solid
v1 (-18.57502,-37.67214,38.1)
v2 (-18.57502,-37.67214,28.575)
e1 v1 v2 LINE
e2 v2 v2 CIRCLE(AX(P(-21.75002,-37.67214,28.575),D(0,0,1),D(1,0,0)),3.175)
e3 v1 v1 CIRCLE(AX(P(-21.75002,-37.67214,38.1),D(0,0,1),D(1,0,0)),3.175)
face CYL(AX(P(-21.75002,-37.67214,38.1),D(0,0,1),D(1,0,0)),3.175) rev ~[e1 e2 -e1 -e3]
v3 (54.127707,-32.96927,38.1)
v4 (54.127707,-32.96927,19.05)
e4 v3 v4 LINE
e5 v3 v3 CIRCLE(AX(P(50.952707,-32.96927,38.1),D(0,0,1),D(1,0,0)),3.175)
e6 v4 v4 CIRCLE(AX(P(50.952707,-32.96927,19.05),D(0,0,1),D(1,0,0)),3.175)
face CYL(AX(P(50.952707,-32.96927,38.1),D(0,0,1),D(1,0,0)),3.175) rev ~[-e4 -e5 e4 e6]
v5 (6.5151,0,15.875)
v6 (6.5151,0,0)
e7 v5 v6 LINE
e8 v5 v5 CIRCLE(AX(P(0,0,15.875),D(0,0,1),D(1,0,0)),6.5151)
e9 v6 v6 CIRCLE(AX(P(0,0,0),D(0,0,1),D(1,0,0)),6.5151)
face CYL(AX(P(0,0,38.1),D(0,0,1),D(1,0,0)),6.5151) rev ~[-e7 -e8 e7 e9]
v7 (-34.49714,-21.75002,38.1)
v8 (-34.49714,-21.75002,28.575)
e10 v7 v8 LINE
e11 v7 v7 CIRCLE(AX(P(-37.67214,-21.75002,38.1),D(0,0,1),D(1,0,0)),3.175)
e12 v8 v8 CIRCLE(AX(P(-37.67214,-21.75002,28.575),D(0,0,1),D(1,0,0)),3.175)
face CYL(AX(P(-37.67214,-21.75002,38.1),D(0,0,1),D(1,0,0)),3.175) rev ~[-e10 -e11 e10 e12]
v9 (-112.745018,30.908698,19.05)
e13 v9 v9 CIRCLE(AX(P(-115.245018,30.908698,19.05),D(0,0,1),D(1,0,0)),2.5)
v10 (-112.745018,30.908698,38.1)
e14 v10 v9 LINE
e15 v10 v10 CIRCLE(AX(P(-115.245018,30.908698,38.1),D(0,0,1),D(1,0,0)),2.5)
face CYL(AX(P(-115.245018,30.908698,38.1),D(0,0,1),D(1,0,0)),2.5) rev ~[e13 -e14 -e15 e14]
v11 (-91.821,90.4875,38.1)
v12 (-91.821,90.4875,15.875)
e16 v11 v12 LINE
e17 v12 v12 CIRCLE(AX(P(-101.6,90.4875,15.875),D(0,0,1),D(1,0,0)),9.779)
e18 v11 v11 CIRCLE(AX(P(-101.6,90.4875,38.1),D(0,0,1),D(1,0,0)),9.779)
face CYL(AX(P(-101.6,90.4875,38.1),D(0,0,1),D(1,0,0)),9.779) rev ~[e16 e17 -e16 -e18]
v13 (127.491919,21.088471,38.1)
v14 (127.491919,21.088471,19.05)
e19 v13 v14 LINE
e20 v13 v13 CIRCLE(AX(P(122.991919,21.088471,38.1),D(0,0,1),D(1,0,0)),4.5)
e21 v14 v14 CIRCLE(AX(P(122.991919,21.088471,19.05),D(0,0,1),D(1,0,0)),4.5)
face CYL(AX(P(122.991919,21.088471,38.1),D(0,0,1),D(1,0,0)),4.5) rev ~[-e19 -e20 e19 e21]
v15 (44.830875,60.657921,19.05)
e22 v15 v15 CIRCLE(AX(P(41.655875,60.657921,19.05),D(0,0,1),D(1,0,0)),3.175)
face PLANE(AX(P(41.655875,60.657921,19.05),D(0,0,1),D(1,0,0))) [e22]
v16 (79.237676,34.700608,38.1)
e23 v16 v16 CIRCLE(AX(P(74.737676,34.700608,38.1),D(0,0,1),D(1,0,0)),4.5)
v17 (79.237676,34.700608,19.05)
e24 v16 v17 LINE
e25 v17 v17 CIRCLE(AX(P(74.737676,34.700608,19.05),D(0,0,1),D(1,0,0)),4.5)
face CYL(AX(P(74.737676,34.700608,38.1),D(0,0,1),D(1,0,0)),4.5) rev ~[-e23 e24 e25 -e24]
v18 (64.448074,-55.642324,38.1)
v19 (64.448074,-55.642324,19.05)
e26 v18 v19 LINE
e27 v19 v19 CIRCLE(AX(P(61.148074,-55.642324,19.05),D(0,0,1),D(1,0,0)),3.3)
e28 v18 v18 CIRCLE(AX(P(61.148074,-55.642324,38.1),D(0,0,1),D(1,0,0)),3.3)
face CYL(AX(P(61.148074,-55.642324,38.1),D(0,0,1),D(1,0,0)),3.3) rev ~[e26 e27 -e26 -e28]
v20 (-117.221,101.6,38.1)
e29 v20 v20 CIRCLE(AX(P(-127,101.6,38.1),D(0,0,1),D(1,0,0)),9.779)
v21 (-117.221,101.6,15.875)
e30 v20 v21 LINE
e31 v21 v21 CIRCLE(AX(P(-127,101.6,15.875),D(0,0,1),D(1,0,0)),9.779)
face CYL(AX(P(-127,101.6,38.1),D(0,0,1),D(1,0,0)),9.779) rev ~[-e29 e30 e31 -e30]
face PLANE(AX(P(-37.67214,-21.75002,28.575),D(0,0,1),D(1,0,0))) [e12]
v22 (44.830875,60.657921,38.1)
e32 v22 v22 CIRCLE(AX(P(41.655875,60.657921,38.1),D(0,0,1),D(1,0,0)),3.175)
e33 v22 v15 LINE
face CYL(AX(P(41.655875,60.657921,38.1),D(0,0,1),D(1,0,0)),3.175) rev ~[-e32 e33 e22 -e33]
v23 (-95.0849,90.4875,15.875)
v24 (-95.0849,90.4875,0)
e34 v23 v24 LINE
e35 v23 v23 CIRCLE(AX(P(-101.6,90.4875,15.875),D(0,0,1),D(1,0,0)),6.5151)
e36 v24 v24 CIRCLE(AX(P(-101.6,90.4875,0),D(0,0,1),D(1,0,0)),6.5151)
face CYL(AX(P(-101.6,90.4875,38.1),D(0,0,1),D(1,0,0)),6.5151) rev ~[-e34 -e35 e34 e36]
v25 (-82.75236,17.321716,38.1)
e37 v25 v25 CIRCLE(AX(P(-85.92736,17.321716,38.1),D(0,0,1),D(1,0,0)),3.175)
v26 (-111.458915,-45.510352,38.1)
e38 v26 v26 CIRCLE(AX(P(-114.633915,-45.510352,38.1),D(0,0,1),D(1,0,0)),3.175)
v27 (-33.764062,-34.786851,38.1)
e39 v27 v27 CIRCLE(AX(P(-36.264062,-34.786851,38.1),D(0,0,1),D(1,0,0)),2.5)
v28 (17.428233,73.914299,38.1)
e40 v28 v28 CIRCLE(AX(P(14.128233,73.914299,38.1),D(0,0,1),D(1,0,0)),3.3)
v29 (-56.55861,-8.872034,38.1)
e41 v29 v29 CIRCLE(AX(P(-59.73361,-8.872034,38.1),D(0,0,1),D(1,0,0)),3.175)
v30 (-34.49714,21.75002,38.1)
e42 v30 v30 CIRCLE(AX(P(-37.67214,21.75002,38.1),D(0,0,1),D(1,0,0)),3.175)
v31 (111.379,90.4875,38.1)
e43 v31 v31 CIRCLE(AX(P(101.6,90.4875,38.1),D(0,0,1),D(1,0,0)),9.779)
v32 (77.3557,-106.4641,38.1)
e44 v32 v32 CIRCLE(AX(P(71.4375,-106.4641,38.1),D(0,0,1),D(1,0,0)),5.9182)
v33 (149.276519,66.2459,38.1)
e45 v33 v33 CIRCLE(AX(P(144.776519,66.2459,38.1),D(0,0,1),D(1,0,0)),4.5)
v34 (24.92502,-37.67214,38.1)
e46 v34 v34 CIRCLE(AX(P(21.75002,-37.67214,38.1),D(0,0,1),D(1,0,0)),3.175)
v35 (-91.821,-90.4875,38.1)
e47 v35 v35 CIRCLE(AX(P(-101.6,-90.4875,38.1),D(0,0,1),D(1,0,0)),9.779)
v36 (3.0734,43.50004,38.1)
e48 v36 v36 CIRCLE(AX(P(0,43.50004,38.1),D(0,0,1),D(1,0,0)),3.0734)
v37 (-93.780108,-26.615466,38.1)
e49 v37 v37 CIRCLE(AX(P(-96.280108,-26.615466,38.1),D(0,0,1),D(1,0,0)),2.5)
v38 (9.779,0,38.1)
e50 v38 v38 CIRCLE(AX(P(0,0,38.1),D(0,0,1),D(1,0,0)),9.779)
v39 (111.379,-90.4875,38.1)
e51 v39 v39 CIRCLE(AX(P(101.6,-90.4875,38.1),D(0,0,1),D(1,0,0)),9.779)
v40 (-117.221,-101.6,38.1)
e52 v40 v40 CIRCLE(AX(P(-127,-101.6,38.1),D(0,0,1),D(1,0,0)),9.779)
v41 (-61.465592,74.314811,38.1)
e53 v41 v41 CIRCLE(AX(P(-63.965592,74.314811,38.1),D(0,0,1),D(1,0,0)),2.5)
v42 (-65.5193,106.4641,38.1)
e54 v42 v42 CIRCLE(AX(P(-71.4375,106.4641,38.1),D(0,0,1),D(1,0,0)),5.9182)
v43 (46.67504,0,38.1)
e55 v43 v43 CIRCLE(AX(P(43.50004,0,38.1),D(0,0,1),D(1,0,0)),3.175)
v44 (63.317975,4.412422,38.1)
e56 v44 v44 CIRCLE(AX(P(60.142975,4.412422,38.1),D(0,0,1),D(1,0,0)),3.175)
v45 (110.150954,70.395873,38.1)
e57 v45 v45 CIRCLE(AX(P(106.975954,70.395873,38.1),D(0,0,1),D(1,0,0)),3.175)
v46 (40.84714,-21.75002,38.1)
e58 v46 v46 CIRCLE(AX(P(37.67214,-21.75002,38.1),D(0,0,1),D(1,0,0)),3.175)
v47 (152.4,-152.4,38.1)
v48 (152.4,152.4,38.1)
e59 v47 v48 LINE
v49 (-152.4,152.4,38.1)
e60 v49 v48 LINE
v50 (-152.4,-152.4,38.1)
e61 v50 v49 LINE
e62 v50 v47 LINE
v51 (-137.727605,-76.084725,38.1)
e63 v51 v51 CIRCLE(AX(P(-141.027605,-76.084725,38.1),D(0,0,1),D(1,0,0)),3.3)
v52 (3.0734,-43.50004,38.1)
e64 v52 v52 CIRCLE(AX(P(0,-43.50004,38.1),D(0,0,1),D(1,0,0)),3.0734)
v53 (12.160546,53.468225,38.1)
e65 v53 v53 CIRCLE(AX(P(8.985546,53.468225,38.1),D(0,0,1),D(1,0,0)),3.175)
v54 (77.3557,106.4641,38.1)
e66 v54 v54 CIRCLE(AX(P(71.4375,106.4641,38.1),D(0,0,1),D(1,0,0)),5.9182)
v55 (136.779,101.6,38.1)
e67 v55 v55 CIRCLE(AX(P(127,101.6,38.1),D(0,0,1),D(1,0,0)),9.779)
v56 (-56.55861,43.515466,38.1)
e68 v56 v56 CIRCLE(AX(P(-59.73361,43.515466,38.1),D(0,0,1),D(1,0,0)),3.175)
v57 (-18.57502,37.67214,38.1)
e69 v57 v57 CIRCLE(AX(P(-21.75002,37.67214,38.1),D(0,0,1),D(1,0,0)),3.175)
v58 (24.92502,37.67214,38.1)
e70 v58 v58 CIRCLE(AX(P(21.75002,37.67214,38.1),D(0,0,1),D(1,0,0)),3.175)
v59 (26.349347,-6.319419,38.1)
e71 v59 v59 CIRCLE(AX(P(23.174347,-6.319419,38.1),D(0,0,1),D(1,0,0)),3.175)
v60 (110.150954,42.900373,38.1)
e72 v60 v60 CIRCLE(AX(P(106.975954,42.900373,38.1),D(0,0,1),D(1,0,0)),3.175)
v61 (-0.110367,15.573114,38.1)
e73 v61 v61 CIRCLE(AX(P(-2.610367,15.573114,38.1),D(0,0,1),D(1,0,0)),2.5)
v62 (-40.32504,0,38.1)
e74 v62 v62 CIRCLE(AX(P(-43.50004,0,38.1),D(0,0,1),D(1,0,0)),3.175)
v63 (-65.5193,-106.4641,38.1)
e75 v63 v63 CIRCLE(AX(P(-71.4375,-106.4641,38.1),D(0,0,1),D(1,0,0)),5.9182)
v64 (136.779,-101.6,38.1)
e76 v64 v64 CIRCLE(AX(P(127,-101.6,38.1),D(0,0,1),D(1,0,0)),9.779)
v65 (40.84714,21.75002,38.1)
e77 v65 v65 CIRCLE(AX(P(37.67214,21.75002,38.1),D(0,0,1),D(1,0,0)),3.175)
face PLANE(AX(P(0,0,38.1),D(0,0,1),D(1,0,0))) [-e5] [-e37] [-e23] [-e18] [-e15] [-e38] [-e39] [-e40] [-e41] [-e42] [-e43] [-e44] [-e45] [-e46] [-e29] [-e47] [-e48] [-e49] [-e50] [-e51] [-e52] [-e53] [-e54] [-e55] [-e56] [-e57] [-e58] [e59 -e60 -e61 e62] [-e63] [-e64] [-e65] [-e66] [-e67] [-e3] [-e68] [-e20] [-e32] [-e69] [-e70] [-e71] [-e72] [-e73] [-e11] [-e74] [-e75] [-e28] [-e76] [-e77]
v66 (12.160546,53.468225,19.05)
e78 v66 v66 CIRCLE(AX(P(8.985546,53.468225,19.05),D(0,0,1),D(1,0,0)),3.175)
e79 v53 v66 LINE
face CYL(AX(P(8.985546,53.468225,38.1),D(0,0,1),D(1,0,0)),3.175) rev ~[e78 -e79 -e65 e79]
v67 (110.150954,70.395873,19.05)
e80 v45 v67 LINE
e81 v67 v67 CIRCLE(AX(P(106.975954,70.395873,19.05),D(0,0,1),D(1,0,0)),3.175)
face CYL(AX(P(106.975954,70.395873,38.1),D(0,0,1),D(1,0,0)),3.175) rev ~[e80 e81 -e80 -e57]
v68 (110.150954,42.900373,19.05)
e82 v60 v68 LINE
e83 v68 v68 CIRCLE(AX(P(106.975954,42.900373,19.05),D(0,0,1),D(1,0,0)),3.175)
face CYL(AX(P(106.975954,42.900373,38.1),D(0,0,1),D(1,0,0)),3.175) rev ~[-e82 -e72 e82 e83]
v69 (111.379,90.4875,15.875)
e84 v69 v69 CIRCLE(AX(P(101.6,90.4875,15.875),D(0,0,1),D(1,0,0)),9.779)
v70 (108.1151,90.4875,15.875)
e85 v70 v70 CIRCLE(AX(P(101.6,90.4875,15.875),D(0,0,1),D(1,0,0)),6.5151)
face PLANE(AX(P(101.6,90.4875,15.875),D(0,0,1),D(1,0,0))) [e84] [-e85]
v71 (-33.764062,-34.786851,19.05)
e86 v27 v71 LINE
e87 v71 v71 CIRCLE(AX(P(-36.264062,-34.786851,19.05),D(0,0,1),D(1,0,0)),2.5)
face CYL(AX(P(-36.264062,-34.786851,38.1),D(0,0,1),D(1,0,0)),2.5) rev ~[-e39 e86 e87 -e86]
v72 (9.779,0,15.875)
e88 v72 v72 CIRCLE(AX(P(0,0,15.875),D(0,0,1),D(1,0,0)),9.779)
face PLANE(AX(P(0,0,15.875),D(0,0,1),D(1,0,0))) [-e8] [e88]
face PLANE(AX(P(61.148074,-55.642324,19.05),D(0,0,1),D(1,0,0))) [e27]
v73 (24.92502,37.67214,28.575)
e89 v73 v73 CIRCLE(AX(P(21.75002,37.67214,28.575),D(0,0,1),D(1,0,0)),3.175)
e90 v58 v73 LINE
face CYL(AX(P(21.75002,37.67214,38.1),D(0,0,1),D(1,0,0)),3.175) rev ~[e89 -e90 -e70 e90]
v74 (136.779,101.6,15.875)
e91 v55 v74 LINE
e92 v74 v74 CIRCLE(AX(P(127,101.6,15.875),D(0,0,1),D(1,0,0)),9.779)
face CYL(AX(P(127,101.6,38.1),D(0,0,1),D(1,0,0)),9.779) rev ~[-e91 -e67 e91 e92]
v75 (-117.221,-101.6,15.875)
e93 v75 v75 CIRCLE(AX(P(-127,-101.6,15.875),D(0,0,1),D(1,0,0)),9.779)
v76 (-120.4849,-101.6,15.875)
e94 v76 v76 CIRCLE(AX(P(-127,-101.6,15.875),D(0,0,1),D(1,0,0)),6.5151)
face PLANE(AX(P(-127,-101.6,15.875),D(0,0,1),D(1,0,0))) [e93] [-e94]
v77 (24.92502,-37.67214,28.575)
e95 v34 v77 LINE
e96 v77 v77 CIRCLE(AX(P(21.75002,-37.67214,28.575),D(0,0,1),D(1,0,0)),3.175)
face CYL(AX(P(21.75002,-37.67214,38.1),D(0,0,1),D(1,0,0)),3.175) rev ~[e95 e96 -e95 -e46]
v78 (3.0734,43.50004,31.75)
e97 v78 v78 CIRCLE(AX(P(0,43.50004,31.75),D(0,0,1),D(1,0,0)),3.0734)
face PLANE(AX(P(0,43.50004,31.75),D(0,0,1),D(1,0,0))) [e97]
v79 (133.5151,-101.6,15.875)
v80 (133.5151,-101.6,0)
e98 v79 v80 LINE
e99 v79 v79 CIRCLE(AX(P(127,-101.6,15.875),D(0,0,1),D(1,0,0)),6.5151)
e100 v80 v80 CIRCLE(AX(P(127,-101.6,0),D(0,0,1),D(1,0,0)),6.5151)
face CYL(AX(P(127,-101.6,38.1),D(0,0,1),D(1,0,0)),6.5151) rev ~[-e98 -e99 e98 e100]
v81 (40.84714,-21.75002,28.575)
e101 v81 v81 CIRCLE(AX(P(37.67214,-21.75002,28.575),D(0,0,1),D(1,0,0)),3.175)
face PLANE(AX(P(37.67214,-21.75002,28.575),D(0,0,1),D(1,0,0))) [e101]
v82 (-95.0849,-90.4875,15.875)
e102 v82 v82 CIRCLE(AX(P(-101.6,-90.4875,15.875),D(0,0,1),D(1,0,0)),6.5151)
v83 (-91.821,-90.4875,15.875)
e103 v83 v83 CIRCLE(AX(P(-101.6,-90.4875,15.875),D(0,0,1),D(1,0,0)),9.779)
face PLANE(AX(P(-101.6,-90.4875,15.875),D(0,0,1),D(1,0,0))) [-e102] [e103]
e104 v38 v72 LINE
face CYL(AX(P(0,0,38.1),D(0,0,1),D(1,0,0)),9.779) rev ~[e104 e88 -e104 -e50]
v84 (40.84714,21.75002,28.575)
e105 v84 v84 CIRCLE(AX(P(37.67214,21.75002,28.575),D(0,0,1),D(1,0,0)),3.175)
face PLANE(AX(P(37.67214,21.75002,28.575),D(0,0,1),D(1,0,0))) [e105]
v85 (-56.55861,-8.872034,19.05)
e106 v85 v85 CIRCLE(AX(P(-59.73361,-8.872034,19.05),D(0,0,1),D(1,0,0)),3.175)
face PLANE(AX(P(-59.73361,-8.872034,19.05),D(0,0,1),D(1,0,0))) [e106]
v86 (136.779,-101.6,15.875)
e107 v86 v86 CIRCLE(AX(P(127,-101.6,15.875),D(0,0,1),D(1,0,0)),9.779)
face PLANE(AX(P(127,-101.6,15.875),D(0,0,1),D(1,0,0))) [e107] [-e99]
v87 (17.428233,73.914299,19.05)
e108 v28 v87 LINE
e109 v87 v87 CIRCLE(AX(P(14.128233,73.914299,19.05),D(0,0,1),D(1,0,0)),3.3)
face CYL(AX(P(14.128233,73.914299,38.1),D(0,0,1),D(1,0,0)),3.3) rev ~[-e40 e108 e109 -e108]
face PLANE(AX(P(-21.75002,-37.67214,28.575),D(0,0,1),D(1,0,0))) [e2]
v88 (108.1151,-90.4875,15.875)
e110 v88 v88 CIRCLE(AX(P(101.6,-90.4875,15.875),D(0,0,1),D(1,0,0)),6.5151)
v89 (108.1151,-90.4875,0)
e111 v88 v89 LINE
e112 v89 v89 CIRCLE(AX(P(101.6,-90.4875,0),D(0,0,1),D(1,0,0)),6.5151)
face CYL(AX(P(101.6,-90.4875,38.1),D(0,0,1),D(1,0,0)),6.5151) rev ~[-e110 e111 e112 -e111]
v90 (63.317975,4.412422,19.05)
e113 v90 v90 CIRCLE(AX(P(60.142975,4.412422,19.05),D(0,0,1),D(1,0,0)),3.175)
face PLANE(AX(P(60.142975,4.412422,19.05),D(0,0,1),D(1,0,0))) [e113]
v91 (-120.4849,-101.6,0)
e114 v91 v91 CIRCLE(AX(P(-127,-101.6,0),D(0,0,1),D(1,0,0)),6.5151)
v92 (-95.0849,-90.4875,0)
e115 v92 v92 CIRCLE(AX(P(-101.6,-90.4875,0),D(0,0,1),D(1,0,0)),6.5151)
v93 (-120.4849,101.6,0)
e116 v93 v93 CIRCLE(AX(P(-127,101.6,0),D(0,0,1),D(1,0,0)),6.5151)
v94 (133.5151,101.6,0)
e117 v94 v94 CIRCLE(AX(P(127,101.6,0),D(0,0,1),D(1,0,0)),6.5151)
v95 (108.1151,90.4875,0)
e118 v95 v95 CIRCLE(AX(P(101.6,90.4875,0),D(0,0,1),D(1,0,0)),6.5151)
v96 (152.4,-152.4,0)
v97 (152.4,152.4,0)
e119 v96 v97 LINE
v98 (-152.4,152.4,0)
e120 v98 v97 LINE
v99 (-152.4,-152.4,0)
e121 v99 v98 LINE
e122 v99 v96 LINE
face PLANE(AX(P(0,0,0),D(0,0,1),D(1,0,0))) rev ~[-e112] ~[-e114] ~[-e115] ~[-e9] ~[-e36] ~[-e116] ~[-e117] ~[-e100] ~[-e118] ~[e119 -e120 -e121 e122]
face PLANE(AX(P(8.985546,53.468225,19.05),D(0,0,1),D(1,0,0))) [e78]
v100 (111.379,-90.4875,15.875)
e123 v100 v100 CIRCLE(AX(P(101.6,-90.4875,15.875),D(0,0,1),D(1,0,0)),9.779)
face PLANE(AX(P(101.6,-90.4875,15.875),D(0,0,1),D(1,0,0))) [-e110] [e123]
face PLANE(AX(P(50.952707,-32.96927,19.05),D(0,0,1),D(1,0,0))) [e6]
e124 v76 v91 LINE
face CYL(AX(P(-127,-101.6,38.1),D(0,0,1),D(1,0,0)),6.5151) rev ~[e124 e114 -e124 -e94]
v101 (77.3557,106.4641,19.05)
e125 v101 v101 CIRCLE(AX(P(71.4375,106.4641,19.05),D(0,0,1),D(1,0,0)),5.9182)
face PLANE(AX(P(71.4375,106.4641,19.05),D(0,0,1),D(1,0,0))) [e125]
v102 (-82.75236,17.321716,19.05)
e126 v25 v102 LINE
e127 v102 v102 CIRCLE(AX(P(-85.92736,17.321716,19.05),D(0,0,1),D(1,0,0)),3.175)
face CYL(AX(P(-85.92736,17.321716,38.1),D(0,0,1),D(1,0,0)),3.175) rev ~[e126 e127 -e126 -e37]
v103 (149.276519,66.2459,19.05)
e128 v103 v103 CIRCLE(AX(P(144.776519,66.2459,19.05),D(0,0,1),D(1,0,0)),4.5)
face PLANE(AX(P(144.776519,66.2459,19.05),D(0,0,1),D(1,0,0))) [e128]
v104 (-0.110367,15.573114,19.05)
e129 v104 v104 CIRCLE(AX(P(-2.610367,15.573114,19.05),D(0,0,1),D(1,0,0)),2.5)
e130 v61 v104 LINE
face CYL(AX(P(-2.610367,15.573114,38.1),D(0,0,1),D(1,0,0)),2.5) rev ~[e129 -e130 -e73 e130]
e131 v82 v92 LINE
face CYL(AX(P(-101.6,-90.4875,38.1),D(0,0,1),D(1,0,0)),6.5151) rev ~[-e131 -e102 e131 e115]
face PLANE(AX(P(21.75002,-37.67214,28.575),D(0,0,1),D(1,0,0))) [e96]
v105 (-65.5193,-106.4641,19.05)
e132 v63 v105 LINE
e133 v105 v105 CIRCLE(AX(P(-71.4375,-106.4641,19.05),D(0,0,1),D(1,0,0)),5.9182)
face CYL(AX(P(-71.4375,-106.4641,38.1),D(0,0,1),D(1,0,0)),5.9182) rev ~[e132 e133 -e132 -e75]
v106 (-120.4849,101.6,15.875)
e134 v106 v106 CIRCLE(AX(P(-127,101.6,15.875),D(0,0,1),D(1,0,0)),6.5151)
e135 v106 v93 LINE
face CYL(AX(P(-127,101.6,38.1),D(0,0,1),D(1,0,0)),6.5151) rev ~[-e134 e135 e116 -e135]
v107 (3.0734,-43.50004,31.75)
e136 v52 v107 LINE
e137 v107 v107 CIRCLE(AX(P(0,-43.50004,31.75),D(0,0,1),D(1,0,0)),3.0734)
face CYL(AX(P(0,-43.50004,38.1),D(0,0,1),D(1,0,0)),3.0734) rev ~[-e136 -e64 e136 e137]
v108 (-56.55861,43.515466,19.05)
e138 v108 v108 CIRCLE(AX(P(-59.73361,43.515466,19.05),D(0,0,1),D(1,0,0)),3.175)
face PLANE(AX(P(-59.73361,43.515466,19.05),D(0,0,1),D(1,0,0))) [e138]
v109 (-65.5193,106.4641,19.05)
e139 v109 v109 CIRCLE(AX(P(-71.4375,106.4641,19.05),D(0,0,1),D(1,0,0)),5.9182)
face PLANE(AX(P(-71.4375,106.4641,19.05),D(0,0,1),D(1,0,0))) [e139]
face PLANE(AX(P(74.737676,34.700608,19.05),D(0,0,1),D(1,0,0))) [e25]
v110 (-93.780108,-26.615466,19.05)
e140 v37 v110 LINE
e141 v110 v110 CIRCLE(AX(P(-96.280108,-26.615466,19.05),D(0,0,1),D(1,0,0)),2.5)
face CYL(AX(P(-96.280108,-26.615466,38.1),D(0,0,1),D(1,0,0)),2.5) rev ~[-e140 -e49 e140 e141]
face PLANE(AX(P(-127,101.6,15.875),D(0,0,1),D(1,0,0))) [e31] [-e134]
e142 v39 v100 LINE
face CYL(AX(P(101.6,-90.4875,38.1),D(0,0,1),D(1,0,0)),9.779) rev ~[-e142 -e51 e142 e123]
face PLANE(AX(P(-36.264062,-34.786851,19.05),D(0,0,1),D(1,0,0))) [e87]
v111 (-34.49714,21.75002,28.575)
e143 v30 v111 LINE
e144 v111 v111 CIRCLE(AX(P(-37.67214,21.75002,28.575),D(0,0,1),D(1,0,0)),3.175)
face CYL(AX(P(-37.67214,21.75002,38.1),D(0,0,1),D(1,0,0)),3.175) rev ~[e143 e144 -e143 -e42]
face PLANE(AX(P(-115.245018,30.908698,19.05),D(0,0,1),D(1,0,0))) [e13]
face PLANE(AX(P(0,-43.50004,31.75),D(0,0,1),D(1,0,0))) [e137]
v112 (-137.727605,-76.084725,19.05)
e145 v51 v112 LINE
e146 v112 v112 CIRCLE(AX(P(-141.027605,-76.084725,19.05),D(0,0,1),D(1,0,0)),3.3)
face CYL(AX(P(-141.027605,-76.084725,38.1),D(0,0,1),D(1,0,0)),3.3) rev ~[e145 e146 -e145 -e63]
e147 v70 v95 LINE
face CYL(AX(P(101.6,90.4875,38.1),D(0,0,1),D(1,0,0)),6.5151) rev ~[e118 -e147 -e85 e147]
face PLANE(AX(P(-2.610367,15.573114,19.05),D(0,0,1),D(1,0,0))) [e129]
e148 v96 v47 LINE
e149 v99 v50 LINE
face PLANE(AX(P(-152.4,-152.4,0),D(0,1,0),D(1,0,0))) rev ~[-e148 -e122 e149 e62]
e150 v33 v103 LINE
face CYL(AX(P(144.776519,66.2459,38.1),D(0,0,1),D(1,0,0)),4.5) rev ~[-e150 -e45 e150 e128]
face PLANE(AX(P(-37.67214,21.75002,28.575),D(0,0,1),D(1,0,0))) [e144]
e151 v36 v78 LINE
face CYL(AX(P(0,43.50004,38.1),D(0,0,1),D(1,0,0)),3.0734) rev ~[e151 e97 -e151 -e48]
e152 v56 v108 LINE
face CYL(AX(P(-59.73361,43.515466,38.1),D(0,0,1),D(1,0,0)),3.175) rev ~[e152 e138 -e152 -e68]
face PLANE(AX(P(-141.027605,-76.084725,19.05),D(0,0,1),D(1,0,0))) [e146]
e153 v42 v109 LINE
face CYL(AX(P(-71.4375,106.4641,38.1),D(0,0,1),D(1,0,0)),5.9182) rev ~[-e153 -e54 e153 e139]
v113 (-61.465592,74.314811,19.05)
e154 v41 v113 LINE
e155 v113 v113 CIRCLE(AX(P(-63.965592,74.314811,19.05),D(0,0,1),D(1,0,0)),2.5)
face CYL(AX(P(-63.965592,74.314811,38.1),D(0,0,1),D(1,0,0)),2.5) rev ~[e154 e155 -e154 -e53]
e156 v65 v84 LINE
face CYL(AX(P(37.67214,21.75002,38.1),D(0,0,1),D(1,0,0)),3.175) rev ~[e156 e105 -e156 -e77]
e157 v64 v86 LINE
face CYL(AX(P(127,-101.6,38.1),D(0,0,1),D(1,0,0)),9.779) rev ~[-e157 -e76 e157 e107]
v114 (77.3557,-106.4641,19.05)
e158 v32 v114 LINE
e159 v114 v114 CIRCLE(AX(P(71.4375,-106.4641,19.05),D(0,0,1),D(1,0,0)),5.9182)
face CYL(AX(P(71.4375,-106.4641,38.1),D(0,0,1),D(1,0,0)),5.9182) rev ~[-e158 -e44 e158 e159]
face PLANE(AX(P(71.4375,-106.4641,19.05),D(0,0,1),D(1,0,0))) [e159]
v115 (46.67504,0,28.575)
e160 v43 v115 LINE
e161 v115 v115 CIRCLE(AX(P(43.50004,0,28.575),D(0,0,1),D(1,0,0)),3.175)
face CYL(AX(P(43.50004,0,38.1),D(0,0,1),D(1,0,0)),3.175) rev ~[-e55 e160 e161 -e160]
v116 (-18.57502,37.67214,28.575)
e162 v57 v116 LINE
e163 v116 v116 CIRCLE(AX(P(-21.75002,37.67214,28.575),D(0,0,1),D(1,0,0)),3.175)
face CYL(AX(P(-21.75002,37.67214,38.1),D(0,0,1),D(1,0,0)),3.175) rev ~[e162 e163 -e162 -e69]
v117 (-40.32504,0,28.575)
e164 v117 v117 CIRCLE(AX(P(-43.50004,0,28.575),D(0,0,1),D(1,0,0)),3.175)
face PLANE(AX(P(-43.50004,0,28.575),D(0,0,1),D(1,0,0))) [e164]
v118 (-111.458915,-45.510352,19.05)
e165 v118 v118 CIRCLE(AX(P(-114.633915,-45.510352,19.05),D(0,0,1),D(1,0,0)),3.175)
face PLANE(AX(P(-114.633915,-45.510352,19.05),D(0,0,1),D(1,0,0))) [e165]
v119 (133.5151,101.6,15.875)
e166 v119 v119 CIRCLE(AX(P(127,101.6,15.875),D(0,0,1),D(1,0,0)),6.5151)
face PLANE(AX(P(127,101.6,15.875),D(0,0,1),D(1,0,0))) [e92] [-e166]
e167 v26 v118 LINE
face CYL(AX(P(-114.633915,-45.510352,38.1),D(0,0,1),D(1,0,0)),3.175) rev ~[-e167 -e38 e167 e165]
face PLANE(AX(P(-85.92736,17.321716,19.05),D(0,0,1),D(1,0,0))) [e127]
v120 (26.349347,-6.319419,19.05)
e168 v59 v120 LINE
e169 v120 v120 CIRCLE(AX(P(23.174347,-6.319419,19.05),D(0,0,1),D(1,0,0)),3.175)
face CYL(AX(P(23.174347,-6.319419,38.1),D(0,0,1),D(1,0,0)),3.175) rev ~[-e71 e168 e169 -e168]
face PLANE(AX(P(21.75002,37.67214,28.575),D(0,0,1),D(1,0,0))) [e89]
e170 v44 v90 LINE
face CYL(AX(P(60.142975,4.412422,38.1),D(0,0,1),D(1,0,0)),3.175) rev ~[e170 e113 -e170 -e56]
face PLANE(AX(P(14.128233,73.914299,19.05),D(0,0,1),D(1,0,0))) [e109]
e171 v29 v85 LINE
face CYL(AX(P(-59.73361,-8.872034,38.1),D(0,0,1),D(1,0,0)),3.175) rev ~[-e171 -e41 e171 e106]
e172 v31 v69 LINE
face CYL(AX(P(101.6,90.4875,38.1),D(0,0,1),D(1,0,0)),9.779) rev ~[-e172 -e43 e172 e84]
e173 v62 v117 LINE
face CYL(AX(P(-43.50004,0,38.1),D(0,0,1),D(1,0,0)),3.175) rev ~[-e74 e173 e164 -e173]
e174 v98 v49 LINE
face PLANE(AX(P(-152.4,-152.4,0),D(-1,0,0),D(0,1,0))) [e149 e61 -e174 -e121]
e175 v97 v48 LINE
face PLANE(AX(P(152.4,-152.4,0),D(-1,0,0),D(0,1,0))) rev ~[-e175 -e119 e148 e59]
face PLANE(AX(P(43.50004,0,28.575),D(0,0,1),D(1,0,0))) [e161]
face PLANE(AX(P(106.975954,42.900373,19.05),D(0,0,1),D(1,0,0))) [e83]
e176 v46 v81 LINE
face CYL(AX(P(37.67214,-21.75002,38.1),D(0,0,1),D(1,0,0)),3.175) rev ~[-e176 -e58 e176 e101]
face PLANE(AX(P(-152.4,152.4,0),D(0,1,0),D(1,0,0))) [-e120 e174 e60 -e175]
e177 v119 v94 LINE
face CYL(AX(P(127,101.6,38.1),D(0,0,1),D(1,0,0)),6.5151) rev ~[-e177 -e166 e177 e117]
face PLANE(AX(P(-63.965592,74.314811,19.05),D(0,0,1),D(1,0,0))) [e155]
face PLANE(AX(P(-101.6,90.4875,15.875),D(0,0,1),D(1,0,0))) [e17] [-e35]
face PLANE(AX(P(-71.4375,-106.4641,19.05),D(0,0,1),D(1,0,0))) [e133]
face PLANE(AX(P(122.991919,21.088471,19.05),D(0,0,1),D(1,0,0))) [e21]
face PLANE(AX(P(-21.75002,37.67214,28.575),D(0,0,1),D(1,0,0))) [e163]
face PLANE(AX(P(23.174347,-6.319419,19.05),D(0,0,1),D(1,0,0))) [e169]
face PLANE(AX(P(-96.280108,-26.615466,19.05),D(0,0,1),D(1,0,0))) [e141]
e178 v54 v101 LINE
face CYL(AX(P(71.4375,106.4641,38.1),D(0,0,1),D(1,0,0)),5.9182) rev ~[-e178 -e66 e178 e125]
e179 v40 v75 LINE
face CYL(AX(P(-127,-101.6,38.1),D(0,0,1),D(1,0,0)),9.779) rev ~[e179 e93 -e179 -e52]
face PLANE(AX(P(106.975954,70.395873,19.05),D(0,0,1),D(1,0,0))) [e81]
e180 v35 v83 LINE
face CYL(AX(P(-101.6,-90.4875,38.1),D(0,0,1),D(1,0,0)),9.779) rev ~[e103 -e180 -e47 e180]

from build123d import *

# Parameters (mm, degrees)
SKETCH1_W                               = 304.8
SKETCH1_H                               = 304.8
BOSS_EXTRUDE1_DEPTH                     = 38.1
SKETCH2_R                               = 6.5151
HAAS_T_SLOT_HOLES_DEPTH                 = 219.867836833
SKETCH3_R                               = 9.779
HAAS_COUNTER_BORES_DEPTH                = 22.225
SKETCH4_R                               = 6.5151
TORMACH_T_SLOT_HOLES_DEPTH              = 219.867836833
SKETCH5_R                               = 9.779
TORMACH_COUNTER_BORES_DEPTH             = 22.225
SKETCH6_R                               = 3.0734
SPROCKET_LOCATING_HOLES_DEPTH           = 6.35
SKETCH7_R                               = 3.175
SPROCKET_MOUNTING_CLEARANCE_HOLES_DEPTH = 9.525
SKETCH8_R                               = 5.9182
F_1_2_13_TAPPED_HOLES_DEPTH             = 19.05
SKETCH9_R                               = 3.175
SKETCH9_R_2                             = 3.3
SKETCH9_R_3                             = 2.5
SKETCH9_R_4                             = 4.5
CUT_EXTRUDE1_DEPTH                      = 19.05


with BuildPart() as part:
    # Sketch1 → Boss-Extrude1 (new body)
    with BuildSketch(Plane.XY):
        Rectangle(SKETCH1_W, SKETCH1_H)
    extrude(amount=BOSS_EXTRUDE1_DEPTH)

    # Sketch2 → HAAS T-Slot Holes (cut, through all)
    with BuildSketch(Plane.XY.offset(38.1)):
        with Locations((-127, 101.6)):
            Circle(SKETCH2_R)
        with Locations((127, 101.6)):
            Circle(SKETCH2_R)
        with Locations((127, -101.6)):
            Circle(SKETCH2_R)
        with Locations((-127, -101.6)):
            Circle(SKETCH2_R)
        Circle(SKETCH2_R)
    extrude(amount=-HAAS_T_SLOT_HOLES_DEPTH, mode=Mode.SUBTRACT)

    # Sketch3 → HAAS Counter Bores (cut)
    with BuildSketch(Plane.XY.offset(38.1)):
        with Locations((-127, 101.6)):
            Circle(SKETCH3_R)
        with Locations((127, 101.6)):
            Circle(SKETCH3_R)
        Circle(SKETCH3_R)
        with Locations((127, -101.6)):
            Circle(SKETCH3_R)
        with Locations((-127, -101.6)):
            Circle(SKETCH3_R)
    extrude(amount=-HAAS_COUNTER_BORES_DEPTH, mode=Mode.SUBTRACT)

    # Sketch4 → Tormach T-Slot Holes (cut, through all)
    with BuildSketch(Plane.XY.offset(38.1)):
        with Locations((-101.6, 90.4875)):
            Circle(SKETCH4_R)
        with Locations((101.6, 90.4875)):
            Circle(SKETCH4_R)
        with Locations((-101.6, -90.4875)):
            Circle(SKETCH4_R)
        with Locations((101.6, -90.4875)):
            Circle(SKETCH4_R)
    extrude(amount=-TORMACH_T_SLOT_HOLES_DEPTH, mode=Mode.SUBTRACT)

    # Sketch5 → Tormach Counter bores (cut)
    with BuildSketch(Plane.XY.offset(38.1)):
        with Locations((-101.6, 90.4875)):
            Circle(SKETCH5_R)
        with Locations((101.6, 90.4875)):
            Circle(SKETCH5_R)
        with Locations((101.6, -90.4875)):
            Circle(SKETCH5_R)
        with Locations((-101.6, -90.4875)):
            Circle(SKETCH5_R)
    extrude(amount=-TORMACH_COUNTER_BORES_DEPTH, mode=Mode.SUBTRACT)

    # Sketch6 → Sprocket Locating Holes (cut)
    with BuildSketch(Plane.XY.offset(38.1)):
        with Locations((0, 43.50004)):
            Circle(SKETCH6_R)
        with Locations((0, -43.50004)):
            Circle(SKETCH6_R)
    extrude(amount=-SPROCKET_LOCATING_HOLES_DEPTH, mode=Mode.SUBTRACT)

    # Sketch7 → Sprocket Mounting clearance holes (cut)
    with BuildSketch(Plane.XY.offset(38.1)):
        with Locations((43.50004, 0)):
            Circle(SKETCH7_R)
        with Locations((37.672139706, -21.75002)):
            Circle(SKETCH7_R)
        with Locations((21.75002, -37.672139706)):
            Circle(SKETCH7_R)
        with Locations((-21.75002, -37.672139706)):
            Circle(SKETCH7_R)
        with Locations((-37.672139706, -21.75002)):
            Circle(SKETCH7_R)
        with Locations((-43.50004, 0)):
            Circle(SKETCH7_R)
        with Locations((-37.672139706, 21.75002)):
            Circle(SKETCH7_R)
        with Locations((-21.75002, 37.672139706)):
            Circle(SKETCH7_R)
        with Locations((21.75002, 37.672139706)):
            Circle(SKETCH7_R)
        with Locations((37.672139706, 21.75002)):
            Circle(SKETCH7_R)
    extrude(amount=-SPROCKET_MOUNTING_CLEARANCE_HOLES_DEPTH, mode=Mode.SUBTRACT)

    # Sketch8 → 1/2-13 Tapped Holes (cut)
    with BuildSketch(Plane.XY.offset(38.1)):
        with Locations((-71.4375, 106.4641)):
            Circle(SKETCH8_R)
        with Locations((71.4375, 106.4641)):
            Circle(SKETCH8_R)
        with Locations((71.4375, -106.4641)):
            Circle(SKETCH8_R)
        with Locations((-71.4375, -106.4641)):
            Circle(SKETCH8_R)
    extrude(amount=-F_1_2_13_TAPPED_HOLES_DEPTH, mode=Mode.SUBTRACT)

    # Sketch9 → Cut-Extrude1 (cut)
    with BuildSketch(Plane.XY.offset(38.1)):
        with Locations((106.975954286, 70.395873002)):
            Circle(SKETCH9_R)
        with Locations((106.975954286, 42.900373002)):
            Circle(SKETCH9_R)
        with Locations((8.985545702, 53.468225166)):
            Circle(SKETCH9_R)
        with Locations((41.65587457, 60.657920909)):
            Circle(SKETCH9_R)
        with Locations((-59.73361009, 43.51546635)):
            Circle(SKETCH9_R)
        with Locations((-85.92736009, 17.32171635)):
            Circle(SKETCH9_R)
        with Locations((-59.73361009, -8.87203365)):
            Circle(SKETCH9_R)
        with Locations((-114.633914907, -45.510351778)):
            Circle(SKETCH9_R)
        with Locations((-141.027605333, -76.084724647)):
            Circle(SKETCH9_R_2)
        with Locations((61.148073745, -55.642324401)):
            Circle(SKETCH9_R_2)
        with Locations((23.174346831, -6.319418914)):
            Circle(SKETCH9_R)
        with Locations((60.142975062, 4.412421641)):
            Circle(SKETCH9_R)
        with Locations((50.952707496, -32.969269828)):
            Circle(SKETCH9_R)
        with Locations((-36.264061896, -34.786851156)):
            Circle(SKETCH9_R_3)
        with Locations((-96.280107569, -26.615466331)):
            Circle(SKETCH9_R_3)
        with Locations((-115.245018307, 30.908697539)):
            Circle(SKETCH9_R_3)
        with Locations((-63.965591615, 74.314810953)):
            Circle(SKETCH9_R_3)
        with Locations((-2.610367098, 15.573114042)):
            Circle(SKETCH9_R_3)
        with Locations((14.128233333, 73.914299226)):
            Circle(SKETCH9_R_2)
        with Locations((74.737676016, 34.700608013)):
            Circle(SKETCH9_R_4)
        with Locations((144.776518705, 66.245900326)):
            Circle(SKETCH9_R_4)
        with Locations((122.991918933, 21.088470635)):
            Circle(SKETCH9_R_4)
    extrude(amount=-CUT_EXTRUDE1_DEPTH, mode=Mode.SUBTRACT)


solid = part.part
